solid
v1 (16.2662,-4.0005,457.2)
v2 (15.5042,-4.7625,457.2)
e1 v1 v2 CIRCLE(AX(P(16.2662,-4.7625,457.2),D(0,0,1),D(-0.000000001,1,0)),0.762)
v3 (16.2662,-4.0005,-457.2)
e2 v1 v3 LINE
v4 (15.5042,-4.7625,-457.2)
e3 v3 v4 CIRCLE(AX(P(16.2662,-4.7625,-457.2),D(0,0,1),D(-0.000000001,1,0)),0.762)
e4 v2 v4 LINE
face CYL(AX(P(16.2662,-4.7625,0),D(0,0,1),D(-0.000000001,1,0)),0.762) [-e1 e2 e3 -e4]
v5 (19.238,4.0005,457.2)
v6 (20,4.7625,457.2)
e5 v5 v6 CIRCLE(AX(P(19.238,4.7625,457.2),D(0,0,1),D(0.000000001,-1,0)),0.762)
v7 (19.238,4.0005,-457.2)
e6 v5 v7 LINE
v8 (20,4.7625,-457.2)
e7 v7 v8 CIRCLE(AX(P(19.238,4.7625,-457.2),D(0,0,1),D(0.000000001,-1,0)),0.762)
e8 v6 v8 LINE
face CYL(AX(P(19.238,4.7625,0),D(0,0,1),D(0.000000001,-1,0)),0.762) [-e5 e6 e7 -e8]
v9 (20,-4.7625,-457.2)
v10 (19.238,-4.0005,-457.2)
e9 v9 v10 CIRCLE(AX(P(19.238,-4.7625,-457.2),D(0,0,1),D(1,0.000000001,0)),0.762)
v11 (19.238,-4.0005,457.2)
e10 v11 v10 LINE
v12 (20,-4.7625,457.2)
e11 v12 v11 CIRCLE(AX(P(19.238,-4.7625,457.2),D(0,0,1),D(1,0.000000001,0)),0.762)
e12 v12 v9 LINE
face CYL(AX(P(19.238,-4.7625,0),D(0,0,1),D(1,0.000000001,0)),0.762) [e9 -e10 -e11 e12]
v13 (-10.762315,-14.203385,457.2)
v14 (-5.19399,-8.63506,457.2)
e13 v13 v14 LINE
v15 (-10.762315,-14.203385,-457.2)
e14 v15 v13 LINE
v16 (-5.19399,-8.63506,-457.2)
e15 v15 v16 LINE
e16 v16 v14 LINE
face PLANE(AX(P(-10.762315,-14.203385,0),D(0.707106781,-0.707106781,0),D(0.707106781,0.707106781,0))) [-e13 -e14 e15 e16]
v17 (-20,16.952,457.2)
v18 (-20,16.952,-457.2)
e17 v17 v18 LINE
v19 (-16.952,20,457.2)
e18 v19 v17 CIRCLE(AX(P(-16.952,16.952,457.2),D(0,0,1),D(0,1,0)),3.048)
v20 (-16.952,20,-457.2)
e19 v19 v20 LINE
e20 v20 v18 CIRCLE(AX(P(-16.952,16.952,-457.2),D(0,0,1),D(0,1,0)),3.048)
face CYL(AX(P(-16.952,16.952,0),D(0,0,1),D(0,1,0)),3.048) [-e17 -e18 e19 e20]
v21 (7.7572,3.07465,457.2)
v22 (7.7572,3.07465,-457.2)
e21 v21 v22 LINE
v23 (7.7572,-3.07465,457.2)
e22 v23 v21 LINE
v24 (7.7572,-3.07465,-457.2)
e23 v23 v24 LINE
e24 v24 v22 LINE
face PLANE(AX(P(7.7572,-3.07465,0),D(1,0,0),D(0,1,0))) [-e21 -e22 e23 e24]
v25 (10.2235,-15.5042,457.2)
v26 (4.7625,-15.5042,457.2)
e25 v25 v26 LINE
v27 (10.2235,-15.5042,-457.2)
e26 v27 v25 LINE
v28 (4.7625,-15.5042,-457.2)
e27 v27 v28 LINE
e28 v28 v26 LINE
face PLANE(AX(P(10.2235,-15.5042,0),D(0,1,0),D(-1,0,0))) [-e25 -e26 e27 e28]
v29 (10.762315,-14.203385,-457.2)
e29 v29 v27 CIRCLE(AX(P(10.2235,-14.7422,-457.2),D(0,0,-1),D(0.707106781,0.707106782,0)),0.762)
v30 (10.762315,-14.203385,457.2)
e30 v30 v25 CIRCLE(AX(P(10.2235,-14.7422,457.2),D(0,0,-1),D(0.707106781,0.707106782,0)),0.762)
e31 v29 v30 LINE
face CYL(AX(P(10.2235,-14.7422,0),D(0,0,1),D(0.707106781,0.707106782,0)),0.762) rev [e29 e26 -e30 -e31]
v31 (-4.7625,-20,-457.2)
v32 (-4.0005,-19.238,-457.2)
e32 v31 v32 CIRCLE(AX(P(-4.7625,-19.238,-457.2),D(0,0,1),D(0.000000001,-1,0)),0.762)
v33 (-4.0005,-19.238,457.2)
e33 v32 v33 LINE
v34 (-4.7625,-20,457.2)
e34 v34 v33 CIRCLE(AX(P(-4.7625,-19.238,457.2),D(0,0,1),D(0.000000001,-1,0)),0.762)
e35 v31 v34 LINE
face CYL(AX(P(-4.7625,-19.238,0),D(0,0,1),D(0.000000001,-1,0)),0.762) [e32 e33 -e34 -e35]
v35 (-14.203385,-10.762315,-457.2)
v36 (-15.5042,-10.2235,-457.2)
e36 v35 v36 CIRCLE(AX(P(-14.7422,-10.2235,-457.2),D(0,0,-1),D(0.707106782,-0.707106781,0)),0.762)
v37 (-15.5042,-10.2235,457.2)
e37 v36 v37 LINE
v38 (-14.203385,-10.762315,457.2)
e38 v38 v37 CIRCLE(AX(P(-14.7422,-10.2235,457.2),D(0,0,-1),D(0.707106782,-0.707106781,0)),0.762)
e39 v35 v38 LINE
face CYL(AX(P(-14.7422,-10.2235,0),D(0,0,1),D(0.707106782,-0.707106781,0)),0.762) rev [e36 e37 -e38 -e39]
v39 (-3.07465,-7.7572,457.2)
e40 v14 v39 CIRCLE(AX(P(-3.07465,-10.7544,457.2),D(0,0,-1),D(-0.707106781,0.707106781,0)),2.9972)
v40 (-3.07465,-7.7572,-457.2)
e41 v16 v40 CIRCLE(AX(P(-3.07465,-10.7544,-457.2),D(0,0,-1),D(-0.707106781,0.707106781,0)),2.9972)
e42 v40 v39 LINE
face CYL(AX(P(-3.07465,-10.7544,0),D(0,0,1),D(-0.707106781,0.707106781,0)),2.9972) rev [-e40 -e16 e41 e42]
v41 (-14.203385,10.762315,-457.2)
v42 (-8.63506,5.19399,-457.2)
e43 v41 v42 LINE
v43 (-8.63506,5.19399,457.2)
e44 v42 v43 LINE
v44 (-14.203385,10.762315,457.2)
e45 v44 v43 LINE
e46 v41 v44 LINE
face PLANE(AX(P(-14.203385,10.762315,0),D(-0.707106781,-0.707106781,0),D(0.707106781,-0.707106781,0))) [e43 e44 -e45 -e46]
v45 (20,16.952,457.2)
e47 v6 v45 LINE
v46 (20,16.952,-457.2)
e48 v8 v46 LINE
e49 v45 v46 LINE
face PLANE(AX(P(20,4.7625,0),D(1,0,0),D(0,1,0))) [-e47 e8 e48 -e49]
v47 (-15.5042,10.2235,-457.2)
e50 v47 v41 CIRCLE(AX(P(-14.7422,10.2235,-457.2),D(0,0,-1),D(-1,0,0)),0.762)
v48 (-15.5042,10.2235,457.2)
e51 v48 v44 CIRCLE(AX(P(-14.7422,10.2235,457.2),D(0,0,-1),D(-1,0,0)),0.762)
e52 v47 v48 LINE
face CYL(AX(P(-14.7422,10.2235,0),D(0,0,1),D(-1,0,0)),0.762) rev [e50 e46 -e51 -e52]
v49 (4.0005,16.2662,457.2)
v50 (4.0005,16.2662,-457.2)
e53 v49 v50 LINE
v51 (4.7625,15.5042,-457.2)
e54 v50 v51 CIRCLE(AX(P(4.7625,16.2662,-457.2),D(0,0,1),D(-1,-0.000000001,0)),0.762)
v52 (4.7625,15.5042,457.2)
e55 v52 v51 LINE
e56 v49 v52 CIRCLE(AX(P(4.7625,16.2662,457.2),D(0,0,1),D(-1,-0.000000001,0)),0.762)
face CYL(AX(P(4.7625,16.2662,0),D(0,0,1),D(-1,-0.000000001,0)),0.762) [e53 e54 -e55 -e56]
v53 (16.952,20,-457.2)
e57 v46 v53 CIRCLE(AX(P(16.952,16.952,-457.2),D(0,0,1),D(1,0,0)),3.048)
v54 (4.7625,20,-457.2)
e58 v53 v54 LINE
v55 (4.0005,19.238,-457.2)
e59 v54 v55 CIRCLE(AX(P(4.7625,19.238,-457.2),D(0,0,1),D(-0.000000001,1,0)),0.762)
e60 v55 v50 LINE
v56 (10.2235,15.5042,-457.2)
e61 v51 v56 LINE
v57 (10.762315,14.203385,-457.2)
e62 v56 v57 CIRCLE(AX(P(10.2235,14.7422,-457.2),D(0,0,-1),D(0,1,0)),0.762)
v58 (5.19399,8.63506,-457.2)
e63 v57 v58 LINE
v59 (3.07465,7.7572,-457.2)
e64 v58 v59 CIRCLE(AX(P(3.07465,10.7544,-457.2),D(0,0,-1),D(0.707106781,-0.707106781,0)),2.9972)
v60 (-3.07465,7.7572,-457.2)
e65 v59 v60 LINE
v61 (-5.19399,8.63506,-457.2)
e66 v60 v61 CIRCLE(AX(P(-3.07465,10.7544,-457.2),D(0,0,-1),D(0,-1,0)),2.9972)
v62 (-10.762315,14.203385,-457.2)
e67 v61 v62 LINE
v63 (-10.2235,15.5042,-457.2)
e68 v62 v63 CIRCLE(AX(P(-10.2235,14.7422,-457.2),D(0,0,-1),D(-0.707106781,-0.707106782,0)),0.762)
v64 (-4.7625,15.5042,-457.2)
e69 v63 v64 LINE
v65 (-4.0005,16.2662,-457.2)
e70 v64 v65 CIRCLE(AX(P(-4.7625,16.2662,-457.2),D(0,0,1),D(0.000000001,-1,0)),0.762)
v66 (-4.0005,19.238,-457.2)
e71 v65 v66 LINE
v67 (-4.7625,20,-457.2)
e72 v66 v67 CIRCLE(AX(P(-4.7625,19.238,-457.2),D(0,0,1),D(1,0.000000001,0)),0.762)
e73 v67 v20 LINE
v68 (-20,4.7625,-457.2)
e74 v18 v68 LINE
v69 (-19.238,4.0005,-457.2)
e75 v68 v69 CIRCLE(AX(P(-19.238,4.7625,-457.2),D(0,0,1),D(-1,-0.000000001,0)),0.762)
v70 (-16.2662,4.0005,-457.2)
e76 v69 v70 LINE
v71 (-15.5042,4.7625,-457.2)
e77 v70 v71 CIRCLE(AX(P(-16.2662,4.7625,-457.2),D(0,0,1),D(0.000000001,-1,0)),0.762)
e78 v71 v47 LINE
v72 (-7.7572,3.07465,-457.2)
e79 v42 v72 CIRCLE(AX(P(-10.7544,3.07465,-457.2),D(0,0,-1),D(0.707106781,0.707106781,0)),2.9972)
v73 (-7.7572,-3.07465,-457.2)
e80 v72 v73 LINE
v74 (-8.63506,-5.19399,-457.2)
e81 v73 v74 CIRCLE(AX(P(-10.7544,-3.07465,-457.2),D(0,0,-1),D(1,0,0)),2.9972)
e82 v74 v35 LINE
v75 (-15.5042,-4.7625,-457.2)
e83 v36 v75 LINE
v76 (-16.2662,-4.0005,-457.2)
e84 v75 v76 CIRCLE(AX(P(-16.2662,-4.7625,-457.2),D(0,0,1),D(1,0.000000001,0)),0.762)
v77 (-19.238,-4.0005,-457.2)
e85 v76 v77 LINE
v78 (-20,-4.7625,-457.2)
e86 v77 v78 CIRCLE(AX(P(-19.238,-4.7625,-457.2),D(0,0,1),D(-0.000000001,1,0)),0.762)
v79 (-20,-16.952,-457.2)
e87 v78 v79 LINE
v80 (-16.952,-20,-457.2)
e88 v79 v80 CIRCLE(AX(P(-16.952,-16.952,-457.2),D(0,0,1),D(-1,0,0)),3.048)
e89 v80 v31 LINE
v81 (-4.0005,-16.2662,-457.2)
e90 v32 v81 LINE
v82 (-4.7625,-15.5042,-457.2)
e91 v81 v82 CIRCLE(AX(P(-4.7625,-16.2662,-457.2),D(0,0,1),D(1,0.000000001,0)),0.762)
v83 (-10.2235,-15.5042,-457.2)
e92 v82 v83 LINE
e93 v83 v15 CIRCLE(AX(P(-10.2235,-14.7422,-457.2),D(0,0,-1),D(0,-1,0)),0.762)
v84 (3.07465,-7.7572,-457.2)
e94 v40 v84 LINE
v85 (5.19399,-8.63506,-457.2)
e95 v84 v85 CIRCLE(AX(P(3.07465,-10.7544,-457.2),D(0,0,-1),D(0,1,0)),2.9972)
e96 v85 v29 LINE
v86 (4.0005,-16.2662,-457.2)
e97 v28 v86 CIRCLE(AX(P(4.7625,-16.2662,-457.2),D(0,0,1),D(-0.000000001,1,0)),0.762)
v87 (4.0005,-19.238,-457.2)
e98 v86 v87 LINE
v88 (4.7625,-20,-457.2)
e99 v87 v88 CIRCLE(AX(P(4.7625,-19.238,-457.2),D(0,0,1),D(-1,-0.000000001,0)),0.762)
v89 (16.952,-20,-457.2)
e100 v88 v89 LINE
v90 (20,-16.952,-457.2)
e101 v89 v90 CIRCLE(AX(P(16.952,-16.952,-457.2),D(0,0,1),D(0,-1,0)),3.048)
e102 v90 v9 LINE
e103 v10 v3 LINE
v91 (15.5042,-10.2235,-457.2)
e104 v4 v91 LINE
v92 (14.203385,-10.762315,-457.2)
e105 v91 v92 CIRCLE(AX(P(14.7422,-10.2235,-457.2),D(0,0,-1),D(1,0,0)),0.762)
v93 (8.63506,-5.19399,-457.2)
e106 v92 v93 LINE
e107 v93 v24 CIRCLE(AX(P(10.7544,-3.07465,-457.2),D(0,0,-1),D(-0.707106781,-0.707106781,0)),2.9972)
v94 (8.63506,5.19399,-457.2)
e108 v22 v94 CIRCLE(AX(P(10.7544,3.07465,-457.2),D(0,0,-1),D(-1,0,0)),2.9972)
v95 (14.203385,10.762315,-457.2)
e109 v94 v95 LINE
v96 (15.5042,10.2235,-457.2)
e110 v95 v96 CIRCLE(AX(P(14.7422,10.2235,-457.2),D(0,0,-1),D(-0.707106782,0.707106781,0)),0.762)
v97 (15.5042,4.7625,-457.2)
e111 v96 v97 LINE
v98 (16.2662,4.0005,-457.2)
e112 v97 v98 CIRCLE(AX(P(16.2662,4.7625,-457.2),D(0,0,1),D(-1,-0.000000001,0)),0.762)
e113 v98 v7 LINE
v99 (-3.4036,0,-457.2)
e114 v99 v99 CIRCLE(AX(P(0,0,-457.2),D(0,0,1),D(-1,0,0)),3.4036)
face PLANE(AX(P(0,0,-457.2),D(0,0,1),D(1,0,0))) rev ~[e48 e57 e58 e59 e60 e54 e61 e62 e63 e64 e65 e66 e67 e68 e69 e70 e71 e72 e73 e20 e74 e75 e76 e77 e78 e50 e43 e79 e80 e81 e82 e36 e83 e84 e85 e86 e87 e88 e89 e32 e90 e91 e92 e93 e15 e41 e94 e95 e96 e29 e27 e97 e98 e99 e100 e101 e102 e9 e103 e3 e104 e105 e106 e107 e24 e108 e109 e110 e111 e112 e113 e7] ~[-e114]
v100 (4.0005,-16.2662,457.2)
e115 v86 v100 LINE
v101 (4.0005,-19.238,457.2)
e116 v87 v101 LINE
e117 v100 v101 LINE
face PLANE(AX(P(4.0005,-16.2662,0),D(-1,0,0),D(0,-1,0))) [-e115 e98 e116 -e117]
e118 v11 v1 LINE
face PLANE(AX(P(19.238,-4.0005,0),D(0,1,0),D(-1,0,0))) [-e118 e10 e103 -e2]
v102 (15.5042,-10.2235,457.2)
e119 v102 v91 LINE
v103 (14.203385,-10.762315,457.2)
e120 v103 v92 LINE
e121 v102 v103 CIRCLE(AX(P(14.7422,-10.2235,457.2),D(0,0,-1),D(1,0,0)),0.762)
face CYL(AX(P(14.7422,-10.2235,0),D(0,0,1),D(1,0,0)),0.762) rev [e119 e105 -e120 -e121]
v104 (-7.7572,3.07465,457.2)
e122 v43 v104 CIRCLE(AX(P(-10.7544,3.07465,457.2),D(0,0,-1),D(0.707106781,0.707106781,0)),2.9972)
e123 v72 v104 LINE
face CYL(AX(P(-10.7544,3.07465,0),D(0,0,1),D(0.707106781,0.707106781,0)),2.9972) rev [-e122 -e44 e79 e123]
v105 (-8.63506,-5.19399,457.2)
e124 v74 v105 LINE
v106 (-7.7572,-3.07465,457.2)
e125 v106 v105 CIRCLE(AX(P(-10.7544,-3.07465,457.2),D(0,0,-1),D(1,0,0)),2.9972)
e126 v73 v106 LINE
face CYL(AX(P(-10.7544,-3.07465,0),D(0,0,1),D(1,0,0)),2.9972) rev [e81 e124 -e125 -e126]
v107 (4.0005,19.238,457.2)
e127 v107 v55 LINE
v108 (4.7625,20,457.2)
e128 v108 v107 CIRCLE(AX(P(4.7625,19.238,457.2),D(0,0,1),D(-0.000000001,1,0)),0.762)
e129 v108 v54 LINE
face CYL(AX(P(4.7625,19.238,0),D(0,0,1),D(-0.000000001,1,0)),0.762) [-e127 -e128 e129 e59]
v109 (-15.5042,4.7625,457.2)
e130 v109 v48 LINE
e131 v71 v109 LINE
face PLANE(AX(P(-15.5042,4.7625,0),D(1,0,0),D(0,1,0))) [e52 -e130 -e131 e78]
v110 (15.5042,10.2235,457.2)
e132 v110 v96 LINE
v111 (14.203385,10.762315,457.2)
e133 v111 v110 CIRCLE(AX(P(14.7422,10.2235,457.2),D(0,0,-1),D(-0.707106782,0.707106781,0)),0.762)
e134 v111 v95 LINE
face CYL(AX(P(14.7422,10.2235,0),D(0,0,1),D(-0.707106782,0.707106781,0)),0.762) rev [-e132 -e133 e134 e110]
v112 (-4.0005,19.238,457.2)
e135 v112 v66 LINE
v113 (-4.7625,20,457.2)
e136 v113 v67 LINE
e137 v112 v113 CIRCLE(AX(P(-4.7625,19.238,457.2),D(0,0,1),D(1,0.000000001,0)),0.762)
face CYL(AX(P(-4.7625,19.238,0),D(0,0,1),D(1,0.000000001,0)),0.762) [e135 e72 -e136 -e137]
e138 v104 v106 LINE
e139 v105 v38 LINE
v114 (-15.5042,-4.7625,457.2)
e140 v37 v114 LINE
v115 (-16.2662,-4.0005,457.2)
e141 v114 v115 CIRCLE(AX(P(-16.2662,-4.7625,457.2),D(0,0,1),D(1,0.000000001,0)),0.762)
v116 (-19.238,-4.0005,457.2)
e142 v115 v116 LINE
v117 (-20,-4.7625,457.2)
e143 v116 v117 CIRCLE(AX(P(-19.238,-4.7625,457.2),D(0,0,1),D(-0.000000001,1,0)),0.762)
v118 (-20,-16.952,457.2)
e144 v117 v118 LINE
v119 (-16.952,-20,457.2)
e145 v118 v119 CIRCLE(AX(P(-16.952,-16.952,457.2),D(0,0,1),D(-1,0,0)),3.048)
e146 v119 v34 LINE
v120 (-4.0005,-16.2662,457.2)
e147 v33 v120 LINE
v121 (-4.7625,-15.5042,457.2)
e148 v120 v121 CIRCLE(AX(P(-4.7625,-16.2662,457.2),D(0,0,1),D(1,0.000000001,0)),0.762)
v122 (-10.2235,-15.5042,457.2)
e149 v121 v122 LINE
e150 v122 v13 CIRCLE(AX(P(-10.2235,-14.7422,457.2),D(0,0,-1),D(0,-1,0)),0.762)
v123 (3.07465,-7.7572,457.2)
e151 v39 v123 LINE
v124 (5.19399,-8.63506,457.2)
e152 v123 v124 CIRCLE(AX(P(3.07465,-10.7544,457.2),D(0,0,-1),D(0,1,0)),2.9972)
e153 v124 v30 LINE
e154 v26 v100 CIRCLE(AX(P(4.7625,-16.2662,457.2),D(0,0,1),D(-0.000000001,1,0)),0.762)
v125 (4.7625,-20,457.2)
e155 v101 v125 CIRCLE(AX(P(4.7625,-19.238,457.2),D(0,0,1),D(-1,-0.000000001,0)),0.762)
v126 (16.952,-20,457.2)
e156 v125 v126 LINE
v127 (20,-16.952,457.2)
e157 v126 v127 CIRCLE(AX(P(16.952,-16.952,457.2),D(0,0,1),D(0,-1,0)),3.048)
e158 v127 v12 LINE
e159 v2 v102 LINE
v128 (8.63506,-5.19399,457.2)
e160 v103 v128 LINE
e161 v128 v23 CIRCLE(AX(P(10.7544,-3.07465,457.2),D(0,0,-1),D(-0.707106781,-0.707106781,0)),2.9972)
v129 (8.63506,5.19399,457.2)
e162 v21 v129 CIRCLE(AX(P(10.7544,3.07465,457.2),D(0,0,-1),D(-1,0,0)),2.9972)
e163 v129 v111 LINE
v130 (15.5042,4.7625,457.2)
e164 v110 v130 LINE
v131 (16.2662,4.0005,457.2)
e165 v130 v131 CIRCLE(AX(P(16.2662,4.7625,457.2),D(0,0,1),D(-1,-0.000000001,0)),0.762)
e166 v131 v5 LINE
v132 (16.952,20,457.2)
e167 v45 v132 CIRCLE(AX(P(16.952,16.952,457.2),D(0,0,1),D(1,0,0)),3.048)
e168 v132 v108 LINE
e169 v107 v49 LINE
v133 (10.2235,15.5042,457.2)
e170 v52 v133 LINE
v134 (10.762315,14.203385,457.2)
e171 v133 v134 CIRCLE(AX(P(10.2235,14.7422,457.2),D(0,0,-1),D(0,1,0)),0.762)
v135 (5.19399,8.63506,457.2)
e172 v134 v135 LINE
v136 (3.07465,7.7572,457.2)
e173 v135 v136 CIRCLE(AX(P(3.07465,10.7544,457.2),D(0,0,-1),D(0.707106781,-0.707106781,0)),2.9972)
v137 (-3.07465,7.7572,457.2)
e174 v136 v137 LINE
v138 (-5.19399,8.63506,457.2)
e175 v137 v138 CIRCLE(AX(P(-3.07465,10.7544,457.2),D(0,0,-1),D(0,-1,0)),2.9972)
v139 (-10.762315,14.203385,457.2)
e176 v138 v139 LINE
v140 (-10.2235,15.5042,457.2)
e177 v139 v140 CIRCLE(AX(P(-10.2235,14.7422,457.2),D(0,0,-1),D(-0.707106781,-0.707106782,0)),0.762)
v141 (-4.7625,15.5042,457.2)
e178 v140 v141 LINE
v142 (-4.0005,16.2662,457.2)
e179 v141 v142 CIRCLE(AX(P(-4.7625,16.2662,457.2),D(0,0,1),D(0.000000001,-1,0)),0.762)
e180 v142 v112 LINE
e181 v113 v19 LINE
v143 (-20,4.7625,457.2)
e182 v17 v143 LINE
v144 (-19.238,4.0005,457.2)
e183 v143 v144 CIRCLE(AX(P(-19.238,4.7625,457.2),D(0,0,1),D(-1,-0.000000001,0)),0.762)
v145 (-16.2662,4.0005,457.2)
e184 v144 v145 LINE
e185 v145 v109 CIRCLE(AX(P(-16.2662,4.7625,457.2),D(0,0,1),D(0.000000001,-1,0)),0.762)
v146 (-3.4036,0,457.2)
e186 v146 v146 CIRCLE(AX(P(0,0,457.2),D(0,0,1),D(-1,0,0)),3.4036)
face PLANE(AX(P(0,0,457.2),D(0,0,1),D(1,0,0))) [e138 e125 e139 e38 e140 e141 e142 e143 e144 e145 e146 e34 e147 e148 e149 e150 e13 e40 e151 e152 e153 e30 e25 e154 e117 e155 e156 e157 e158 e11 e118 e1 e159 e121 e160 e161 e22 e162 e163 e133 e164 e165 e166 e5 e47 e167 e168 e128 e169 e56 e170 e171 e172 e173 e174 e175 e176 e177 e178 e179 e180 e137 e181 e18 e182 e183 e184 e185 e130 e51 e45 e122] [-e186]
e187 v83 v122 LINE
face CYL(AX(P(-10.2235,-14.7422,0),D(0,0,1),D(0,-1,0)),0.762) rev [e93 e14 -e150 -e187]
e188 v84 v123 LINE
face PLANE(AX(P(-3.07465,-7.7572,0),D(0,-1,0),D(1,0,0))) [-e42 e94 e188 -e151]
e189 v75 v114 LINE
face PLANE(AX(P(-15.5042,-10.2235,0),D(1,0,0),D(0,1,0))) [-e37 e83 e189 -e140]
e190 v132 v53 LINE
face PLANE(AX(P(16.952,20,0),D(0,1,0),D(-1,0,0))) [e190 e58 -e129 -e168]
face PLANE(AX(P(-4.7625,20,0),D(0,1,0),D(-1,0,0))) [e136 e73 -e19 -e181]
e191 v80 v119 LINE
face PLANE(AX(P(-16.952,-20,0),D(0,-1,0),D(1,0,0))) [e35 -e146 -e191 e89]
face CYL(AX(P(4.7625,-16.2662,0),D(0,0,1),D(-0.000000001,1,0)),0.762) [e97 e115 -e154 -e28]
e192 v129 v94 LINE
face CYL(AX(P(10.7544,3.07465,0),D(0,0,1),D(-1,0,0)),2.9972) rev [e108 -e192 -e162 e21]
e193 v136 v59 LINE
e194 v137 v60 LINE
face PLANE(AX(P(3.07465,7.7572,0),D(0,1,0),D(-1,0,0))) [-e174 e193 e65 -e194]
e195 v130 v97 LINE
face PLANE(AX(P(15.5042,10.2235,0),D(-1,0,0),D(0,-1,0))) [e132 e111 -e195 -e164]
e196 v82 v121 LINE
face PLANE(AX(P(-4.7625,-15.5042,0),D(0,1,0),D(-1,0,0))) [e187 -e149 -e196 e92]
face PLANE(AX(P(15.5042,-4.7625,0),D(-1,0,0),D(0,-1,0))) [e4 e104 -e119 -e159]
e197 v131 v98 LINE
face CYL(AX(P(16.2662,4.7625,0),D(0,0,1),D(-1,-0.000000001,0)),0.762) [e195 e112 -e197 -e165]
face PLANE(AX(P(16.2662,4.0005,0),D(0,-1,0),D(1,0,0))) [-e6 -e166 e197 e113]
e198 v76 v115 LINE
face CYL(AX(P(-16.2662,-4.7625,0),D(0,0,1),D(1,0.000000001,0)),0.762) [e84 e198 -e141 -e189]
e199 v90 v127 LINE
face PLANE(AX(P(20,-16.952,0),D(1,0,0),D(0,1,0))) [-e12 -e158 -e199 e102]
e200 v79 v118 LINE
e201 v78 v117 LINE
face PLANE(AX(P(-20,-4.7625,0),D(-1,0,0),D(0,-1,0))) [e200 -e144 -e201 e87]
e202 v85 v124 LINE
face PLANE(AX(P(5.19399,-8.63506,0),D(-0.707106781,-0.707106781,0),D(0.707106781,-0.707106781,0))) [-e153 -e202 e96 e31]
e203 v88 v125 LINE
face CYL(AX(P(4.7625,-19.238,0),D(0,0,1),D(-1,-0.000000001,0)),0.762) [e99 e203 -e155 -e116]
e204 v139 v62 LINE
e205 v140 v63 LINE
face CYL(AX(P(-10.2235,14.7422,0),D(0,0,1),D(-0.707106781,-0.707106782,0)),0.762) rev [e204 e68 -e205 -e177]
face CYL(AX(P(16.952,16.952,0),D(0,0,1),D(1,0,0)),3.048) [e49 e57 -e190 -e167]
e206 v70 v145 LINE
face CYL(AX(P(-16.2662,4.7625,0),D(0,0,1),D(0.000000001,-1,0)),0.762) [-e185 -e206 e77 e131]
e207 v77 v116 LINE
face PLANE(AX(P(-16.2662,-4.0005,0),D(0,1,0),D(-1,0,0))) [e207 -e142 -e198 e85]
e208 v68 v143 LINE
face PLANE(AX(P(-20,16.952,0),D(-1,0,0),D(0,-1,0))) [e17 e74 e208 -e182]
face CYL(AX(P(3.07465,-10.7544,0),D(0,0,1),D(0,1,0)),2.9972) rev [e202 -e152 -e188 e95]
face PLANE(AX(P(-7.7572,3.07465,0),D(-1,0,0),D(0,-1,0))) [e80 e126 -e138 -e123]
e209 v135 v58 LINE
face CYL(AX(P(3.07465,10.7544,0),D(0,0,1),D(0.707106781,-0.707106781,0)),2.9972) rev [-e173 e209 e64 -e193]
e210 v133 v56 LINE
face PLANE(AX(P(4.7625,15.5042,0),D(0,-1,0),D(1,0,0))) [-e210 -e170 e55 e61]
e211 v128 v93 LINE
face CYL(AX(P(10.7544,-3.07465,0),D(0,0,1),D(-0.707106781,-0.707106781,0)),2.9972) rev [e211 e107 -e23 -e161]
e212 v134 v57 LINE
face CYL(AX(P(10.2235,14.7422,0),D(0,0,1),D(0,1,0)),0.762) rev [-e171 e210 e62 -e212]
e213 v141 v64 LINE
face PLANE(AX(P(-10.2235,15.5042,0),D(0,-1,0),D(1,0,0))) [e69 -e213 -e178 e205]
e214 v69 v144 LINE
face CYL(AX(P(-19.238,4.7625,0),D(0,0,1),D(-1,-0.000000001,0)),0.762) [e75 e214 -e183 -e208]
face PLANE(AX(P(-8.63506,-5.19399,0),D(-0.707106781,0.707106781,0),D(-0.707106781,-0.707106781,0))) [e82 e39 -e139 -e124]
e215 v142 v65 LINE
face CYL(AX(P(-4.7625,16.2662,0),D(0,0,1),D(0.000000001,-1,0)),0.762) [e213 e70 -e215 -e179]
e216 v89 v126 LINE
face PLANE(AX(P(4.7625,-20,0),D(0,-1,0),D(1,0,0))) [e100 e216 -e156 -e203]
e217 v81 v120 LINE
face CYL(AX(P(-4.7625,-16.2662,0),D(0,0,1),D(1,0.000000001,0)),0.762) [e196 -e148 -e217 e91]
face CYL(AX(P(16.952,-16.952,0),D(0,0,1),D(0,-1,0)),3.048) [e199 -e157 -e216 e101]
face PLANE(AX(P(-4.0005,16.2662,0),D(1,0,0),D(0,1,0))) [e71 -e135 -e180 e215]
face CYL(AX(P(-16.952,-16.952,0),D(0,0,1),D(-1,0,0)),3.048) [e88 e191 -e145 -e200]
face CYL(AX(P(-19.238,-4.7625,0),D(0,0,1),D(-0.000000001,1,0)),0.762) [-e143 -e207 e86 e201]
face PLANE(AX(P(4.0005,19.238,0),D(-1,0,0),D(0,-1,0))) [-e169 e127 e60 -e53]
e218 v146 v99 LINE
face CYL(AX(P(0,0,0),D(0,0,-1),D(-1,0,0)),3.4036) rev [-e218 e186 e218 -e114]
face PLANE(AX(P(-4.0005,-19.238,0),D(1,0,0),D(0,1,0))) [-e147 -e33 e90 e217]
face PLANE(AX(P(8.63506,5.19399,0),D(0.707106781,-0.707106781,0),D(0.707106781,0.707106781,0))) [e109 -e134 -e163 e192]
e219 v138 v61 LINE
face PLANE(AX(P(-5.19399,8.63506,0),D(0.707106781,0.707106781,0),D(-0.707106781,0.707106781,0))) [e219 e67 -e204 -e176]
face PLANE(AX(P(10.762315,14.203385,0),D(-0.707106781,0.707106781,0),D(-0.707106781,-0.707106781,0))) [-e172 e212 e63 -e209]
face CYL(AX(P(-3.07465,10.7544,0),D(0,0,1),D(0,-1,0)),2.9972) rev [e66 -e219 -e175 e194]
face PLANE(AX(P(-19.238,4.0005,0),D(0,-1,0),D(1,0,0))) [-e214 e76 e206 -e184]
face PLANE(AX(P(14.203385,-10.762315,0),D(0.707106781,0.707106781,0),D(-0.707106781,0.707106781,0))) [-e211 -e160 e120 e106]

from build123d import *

# Parameters (mm, degrees)
SKETCH1_R           = 3.4036
BOSS_EXTRUDE1_DEPTH = 457.2


with BuildPart() as part:
    # Sketch1 → Boss-Extrude1 (new, symmetric)
    with BuildSketch(Plane.XY):
        with BuildLine():
            Line((-20, 16.952), (-20, 4.7625))
            ThreePointArc((-20, 4.7625), (-19.776815367, 4.223684633), (-19.238, 4.0005))
            Line((-19.238, 4.0005), (-16.2662, 4.0005))
            ThreePointArc((-16.2662, 4.0005), (-15.727384633, 4.223684633), (-15.5042, 4.7625))
            Line((-15.5042, 4.7625), (-15.5042, 10.2235))
            ThreePointArc((-15.5042, 10.2235), (-15.033804775, 10.927496204), (-14.203384633, 10.762315367))
            Line((-14.203384633, 10.762315367), (-8.635059555, 5.19399029))
            ThreePointArc((-8.635059555, 5.19399029), (-7.985348265, 4.221628629), (-7.7572, 3.074649845))
            Line((-7.7572, 3.074649845), (-7.7572, -3.074649845))
            ThreePointArc((-7.7572, -3.074649845), (-7.985348265, -4.221628629), (-8.635059555, -5.19399029))
            Line((-8.635059555, -5.19399029), (-14.203384633, -10.762315367))
            ThreePointArc((-14.203384633, -10.762315367), (-15.033804775, -10.927496204), (-15.5042, -10.2235))
            Line((-15.5042, -10.2235), (-15.5042, -4.7625))
            ThreePointArc((-15.5042, -4.7625), (-15.727384633, -4.223684633), (-16.2662, -4.0005))
            Line((-16.2662, -4.0005), (-19.238, -4.0005))
            ThreePointArc((-19.238, -4.0005), (-19.776815367, -4.223684633), (-20, -4.7625))
            Line((-20, -4.7625), (-20, -16.952))
            ThreePointArc((-20, -16.952), (-19.107261469, -19.107261469), (-16.952, -20))
            Line((-16.952, -20), (-4.7625, -20))
            ThreePointArc((-4.7625, -20), (-4.223684633, -19.776815367), (-4.0005, -19.238))
            Line((-4.0005, -19.238), (-4.0005, -16.2662))
            ThreePointArc((-4.0005, -16.2662), (-4.223684633, -15.727384633), (-4.7625, -15.5042))
            Line((-4.7625, -15.5042), (-10.2235, -15.5042))
            ThreePointArc((-10.2235, -15.5042), (-10.927496204, -15.033804775), (-10.762315367, -14.203384633))
            Line((-10.762315367, -14.203384633), (-5.19399029, -8.635059555))
            ThreePointArc((-5.19399029, -8.635059555), (-4.221628629, -7.985348265), (-3.074649845, -7.7572))
            Line((-3.074649845, -7.7572), (3.074649845, -7.7572))
            ThreePointArc((3.074649845, -7.7572), (4.221628629, -7.985348265), (5.19399029, -8.635059555))
            Line((5.19399029, -8.635059555), (10.762315367, -14.203384633))
            ThreePointArc((10.762315367, -14.203384633), (10.927496204, -15.033804775), (10.2235, -15.5042))
            Line((10.2235, -15.5042), (4.7625, -15.5042))
            ThreePointArc((4.7625, -15.5042), (4.223684633, -15.727384633), (4.0005, -16.2662))
            Line((4.0005, -16.2662), (4.0005, -19.238))
            ThreePointArc((4.0005, -19.238), (4.223684633, -19.776815367), (4.7625, -20))
            Line((4.7625, -20), (16.952, -20))
            ThreePointArc((16.952, -20), (19.107261469, -19.107261469), (20, -16.952))
            Line((20, -16.952), (20, -4.7625))
            ThreePointArc((20, -4.7625), (19.776815367, -4.223684633), (19.238, -4.0005))
            Line((19.238, -4.0005), (16.2662, -4.0005))
            ThreePointArc((16.2662, -4.0005), (15.727384633, -4.223684633), (15.5042, -4.7625))
            Line((15.5042, -4.7625), (15.5042, -10.2235))
            ThreePointArc((15.5042, -10.2235), (15.033804775, -10.927496204), (14.203384633, -10.762315367))
            Line((14.203384633, -10.762315367), (8.635059555, -5.19399029))
            ThreePointArc((8.635059555, -5.19399029), (7.985348265, -4.221628629), (7.7572, -3.074649845))
            Line((7.7572, -3.074649845), (7.7572, 3.074649845))
            ThreePointArc((7.7572, 3.074649845), (7.985348265, 4.221628629), (8.635059555, 5.19399029))
            Line((8.635059555, 5.19399029), (14.203384633, 10.762315367))
            ThreePointArc((14.203384633, 10.762315367), (15.033804775, 10.927496204), (15.5042, 10.2235))
            Line((15.5042, 10.2235), (15.5042, 4.7625))
            ThreePointArc((15.5042, 4.7625), (15.727384633, 4.223684633), (16.2662, 4.0005))
            Line((16.2662, 4.0005), (19.238, 4.0005))
            ThreePointArc((19.238, 4.0005), (19.776815367, 4.223684633), (20, 4.7625))
            Line((20, 4.7625), (20, 16.952))
            ThreePointArc((20, 16.952), (19.107261469, 19.107261469), (16.952, 20))
            Line((16.952, 20), (4.7625, 20))
            ThreePointArc((4.7625, 20), (4.223684633, 19.776815367), (4.0005, 19.238))
            Line((4.0005, 19.238), (4.0005, 16.2662))
            ThreePointArc((4.0005, 16.2662), (4.223684633, 15.727384633), (4.7625, 15.5042))
            Line((4.7625, 15.5042), (10.2235, 15.5042))
            ThreePointArc((10.2235, 15.5042), (10.927496204, 15.033804775), (10.762315367, 14.203384633))
            Line((10.762315367, 14.203384633), (5.19399029, 8.635059555))
            ThreePointArc((5.19399029, 8.635059555), (4.221628629, 7.985348265), (3.074649845, 7.7572))
            Line((3.074649845, 7.7572), (-3.074649845, 7.7572))
            ThreePointArc((-3.074649845, 7.7572), (-4.221628629, 7.985348265), (-5.19399029, 8.635059555))
            Line((-5.19399029, 8.635059555), (-10.762315367, 14.203384633))
            ThreePointArc((-10.762315367, 14.203384633), (-10.927496204, 15.033804775), (-10.2235, 15.5042))
            Line((-10.2235, 15.5042), (-4.7625, 15.5042))
            ThreePointArc((-4.7625, 15.5042), (-4.223684633, 15.727384633), (-4.0005, 16.2662))
            Line((-4.0005, 16.2662), (-4.0005, 19.238))
            ThreePointArc((-4.0005, 19.238), (-4.223684633, 19.776815367), (-4.7625, 20))
            Line((-4.7625, 20), (-16.952, 20))
            ThreePointArc((-16.952, 20), (-19.107261469, 19.107261469), (-20, 16.952))
        make_face()
        with Locations(Location((0, 0, 0), (0, 0, 180))):
            Circle(SKETCH1_R, mode=Mode.SUBTRACT)
    extrude(amount=BOSS_EXTRUDE1_DEPTH, both=True)


solid = part.part
